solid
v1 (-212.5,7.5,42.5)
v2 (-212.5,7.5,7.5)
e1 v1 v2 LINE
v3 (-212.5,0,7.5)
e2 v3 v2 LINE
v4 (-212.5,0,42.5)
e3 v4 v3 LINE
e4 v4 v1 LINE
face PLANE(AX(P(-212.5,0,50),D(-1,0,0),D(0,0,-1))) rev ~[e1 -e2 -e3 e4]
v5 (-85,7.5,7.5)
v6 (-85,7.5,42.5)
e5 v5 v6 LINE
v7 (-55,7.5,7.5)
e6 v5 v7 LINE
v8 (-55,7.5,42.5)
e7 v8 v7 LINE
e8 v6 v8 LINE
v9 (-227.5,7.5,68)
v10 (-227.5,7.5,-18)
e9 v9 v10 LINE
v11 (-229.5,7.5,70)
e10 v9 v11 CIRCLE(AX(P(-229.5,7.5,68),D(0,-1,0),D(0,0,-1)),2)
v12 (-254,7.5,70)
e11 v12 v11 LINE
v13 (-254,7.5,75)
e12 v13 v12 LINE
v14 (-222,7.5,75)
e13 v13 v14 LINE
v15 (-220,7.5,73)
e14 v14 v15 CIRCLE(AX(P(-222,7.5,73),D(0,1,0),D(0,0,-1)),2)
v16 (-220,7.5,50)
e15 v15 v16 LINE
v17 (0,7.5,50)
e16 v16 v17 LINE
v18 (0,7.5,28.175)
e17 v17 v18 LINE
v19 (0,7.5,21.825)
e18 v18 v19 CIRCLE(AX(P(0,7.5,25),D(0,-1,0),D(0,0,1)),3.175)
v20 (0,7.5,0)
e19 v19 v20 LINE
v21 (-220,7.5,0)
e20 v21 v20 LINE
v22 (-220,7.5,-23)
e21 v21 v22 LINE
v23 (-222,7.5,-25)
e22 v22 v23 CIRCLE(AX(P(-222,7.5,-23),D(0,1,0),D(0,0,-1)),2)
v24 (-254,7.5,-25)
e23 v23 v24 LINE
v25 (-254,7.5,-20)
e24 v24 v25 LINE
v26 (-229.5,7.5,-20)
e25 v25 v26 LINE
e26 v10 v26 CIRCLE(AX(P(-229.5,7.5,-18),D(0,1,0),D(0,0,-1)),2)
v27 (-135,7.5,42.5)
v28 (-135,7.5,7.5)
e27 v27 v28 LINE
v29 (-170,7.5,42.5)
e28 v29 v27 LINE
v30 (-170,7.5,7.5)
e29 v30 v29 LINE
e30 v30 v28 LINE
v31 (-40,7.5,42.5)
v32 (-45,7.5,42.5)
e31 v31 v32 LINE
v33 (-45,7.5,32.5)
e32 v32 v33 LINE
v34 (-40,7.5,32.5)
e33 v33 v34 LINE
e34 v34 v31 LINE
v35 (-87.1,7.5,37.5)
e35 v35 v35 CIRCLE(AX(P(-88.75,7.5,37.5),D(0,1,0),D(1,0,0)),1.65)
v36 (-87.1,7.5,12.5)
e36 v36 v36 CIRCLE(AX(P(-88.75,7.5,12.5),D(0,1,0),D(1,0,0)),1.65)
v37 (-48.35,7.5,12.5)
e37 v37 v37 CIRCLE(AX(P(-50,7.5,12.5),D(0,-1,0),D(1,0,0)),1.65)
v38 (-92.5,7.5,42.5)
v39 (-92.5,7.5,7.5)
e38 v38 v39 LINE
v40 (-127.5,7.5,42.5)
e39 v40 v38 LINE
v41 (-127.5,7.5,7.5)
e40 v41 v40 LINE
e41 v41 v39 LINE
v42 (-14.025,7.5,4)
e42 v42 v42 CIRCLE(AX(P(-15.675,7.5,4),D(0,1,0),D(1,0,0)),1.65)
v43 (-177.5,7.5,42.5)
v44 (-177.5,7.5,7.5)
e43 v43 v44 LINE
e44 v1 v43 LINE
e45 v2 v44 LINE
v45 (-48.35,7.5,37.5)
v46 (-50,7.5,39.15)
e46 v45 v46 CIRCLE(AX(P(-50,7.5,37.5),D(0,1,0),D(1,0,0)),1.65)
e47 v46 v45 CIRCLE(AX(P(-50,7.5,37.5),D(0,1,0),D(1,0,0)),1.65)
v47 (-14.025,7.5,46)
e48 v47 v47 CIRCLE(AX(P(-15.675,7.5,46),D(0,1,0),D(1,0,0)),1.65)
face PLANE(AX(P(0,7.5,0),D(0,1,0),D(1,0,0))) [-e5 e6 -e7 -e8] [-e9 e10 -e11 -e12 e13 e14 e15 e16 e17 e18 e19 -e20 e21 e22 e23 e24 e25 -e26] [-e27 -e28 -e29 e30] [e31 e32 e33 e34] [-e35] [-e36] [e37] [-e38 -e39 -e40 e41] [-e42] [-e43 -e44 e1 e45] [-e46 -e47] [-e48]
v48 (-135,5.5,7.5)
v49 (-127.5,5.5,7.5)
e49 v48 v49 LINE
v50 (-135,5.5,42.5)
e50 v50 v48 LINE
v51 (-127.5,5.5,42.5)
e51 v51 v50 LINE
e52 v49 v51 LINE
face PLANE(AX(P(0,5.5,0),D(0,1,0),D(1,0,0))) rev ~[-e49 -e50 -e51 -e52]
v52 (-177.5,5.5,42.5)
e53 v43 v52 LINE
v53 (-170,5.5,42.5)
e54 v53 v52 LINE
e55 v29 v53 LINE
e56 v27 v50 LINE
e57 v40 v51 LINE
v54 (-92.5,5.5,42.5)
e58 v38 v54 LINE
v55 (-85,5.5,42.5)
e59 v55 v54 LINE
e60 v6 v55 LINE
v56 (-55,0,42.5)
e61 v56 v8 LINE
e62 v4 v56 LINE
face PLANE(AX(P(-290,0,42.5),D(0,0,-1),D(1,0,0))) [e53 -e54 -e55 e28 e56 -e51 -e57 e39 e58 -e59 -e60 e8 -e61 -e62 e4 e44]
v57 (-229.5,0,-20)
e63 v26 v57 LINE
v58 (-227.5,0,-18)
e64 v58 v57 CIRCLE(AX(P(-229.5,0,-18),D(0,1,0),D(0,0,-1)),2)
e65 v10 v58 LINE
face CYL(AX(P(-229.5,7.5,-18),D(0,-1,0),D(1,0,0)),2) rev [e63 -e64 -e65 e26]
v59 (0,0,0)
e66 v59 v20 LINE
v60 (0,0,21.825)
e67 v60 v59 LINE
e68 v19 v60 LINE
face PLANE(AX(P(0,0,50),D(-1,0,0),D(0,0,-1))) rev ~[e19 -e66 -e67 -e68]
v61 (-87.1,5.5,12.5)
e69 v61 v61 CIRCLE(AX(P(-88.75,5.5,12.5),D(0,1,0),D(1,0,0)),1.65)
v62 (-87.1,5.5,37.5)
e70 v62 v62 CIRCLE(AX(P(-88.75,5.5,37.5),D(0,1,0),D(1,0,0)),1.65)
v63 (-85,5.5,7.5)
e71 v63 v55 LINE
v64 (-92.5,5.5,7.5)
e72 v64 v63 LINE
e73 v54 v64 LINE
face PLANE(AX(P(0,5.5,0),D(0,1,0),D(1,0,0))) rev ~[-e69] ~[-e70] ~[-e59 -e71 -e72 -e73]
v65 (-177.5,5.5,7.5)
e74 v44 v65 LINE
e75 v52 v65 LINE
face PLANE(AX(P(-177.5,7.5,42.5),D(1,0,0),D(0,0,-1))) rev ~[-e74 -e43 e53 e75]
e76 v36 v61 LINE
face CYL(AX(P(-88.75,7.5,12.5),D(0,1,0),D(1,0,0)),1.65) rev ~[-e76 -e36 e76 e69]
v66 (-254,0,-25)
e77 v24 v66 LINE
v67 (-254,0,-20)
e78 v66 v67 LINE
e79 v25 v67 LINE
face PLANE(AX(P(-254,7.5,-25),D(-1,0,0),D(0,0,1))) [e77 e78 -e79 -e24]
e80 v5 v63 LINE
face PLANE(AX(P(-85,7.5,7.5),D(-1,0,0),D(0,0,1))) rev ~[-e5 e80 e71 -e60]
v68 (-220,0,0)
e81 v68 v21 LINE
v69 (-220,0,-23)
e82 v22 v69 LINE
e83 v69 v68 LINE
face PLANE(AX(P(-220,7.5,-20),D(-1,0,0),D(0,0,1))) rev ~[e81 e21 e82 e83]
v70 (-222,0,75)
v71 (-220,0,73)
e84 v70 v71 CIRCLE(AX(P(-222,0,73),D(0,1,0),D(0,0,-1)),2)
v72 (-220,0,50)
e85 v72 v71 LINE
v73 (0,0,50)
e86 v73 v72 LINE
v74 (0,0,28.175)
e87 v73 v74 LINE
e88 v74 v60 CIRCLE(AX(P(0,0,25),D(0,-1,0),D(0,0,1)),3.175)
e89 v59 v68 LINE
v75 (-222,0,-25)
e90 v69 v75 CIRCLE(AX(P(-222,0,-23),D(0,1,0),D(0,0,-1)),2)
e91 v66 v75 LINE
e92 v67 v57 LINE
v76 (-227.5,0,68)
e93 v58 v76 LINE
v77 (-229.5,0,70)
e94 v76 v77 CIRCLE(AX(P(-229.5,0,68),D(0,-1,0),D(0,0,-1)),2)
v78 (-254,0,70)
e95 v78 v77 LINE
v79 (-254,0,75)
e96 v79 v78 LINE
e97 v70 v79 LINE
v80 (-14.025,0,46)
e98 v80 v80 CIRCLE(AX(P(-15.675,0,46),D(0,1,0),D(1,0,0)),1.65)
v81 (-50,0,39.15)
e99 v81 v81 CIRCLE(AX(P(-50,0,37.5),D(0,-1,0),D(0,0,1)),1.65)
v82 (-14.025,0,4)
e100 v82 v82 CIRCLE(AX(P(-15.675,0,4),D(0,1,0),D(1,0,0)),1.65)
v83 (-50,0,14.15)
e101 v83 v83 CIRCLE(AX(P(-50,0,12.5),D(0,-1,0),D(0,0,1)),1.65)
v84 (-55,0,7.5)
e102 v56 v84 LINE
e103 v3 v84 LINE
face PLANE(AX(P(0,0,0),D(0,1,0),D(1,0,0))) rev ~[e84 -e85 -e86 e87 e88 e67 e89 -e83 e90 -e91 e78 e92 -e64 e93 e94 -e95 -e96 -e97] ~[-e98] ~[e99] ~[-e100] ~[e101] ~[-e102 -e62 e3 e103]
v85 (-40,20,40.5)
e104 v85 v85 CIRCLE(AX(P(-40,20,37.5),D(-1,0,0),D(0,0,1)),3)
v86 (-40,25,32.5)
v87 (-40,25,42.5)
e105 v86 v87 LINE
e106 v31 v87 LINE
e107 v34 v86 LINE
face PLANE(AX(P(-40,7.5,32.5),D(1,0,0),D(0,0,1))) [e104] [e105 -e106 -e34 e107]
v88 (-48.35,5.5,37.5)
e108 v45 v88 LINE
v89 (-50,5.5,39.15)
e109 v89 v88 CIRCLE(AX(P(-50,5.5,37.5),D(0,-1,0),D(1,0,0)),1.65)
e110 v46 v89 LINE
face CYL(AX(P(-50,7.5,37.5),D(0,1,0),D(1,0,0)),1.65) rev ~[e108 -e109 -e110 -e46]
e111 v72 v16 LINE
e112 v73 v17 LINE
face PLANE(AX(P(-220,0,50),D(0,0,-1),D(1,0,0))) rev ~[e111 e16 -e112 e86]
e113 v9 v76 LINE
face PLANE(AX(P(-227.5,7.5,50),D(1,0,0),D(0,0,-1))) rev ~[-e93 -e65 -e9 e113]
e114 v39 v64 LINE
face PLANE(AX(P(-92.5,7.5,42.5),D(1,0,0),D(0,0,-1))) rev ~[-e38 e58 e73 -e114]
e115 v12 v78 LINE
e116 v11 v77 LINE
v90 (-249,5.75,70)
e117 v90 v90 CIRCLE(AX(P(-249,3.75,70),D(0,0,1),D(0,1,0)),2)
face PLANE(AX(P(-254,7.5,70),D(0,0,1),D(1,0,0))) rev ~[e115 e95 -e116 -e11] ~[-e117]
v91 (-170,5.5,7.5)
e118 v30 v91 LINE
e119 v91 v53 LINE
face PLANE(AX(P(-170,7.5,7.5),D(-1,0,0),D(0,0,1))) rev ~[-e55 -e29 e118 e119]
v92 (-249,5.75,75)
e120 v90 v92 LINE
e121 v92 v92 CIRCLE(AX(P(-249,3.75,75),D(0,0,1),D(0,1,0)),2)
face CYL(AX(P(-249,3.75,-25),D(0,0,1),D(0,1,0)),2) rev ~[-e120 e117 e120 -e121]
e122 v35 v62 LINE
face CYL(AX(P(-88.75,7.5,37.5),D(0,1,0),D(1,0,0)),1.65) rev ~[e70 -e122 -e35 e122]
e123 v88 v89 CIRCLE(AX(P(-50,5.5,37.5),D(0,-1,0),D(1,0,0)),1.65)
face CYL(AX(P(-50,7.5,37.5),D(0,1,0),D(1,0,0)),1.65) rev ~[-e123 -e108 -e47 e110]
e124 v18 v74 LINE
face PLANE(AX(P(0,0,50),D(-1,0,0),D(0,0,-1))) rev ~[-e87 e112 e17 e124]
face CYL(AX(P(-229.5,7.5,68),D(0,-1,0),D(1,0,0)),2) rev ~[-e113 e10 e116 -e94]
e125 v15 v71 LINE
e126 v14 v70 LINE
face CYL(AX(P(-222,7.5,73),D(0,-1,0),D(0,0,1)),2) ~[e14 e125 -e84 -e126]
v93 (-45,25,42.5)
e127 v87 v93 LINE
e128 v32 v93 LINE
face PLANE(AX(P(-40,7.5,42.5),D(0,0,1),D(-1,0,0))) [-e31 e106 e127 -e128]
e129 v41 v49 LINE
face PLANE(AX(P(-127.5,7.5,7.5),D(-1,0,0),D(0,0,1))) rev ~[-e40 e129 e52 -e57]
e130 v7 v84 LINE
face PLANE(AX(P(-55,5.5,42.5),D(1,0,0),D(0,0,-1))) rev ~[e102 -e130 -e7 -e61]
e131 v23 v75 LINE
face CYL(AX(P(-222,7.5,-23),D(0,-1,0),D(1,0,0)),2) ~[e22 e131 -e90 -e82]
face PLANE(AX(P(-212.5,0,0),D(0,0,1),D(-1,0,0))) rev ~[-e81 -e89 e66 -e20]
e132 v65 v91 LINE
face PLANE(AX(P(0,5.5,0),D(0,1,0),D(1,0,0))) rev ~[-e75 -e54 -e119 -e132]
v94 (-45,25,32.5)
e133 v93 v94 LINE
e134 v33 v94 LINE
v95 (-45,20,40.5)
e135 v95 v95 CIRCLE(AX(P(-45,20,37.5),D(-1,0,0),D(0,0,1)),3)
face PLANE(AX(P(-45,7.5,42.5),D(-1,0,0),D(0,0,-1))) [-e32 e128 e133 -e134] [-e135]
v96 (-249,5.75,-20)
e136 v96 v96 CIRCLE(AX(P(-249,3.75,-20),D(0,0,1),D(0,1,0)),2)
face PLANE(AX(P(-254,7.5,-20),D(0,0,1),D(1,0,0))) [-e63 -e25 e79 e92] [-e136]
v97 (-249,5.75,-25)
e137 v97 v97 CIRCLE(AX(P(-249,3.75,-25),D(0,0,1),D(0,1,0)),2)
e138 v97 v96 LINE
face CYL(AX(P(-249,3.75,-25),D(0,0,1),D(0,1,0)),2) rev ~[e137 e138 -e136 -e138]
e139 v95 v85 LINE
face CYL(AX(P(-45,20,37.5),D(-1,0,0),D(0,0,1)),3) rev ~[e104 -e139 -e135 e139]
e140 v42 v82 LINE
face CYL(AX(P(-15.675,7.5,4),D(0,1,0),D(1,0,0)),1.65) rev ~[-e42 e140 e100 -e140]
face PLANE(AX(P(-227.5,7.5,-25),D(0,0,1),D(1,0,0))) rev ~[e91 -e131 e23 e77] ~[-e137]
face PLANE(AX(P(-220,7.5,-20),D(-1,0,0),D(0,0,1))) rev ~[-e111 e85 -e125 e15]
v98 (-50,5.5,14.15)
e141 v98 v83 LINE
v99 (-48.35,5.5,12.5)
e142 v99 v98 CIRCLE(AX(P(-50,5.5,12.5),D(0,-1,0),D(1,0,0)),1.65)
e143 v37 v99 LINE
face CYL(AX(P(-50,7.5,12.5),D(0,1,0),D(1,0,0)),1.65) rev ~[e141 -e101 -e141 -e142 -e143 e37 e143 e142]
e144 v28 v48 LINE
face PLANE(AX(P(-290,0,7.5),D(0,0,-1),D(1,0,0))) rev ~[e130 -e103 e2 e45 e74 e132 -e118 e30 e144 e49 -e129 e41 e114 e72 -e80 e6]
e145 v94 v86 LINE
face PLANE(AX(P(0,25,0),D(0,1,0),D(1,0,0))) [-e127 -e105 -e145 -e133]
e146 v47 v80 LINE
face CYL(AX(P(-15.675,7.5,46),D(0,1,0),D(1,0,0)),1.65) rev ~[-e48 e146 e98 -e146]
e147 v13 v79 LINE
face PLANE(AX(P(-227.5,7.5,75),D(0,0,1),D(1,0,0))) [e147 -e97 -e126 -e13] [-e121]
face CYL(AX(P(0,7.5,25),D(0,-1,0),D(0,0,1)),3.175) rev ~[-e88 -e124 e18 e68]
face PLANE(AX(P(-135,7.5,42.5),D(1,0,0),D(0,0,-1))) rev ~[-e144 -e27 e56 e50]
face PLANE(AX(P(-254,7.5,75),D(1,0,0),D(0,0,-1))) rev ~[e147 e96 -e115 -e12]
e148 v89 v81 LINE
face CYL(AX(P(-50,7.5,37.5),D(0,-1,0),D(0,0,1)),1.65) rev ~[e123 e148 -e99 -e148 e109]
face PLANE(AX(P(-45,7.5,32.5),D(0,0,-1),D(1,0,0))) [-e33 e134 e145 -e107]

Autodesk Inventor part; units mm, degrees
ref_plane "YZ Plane" through (0, 0, 0) normal (1, 0, 0) x (0, 1, 0)
ref_plane "XZ Plane" through (0, 0, 0) normal (0, 1, 0) x (-1, 0, 0)
ref_plane "XY Plane" through (0, 0, 0) normal (0, 0, 1) x (1, 0, 0)
sketch "Sketch1" plane through (0, 0, 0) normal (0, 1, 0) x (-1, 0, 0)
  line L0 (0, 0) -> (50, 0)
  line L1 (50, 0) -> (50, 50)
  line L2 (50, 50) -> (0, 50)
  line L3 (0, 50) -> (0, 0)
  line L4 (50, 50) -> (290, 50)
  line L5 (290, 50) -> (290, 42.5)
  line L6 (290, 42.5) -> (50, 42.5)
  line L7 (50, 42.5) -> (50, 50)
  line L8 (50, 0) -> (290, 0)
  line L9 (290, 0) -> (290, 7.5)
  line L10 (290, 7.5) -> (50, 7.5)
  line L11 (50, 7.5) -> (50, 0)
  dimension "d0" = 50
  dimension "d1" = 50
  dimension "d2" = 240
  dimension "d3" = 7.5
  dimension "d4" = 7.5
extrude "Extrusion1" add sketch "Sketch1" along normal blind 7.5
sketch "Sketch2" plane through (0, 7.5, 0) normal (0, 1, 0) x (1, 0, 0)
  line L0 (0, -50) -> (0, 0) projected
  point P0 (0, -25)
hole "Hole1" at (0, 7.5, 25) direction (0, -1, 0) diameter 6.35 end through all
sketch "Sketch3" plane through (0, 7.5, 0) normal (0, 1, 0) x (1, 0, 0)
  line L0 (-3.175, -50) -> (-3.175, 0) construction
  line L1 (-3.175, -50) -> (-28.175, -50) construction
  line L2 (-28.175, -50) -> (-28.175, 0) construction
  line L3 (-28.175, 0) -> (-3.175, 0) construction
  point P0 (0, 0)
  point P1 (-7.175, -4)
  point P2 (-24.175, -46)
  dimension "d14" = 25
hole "Hole2" at (-7.175, 7.5, 4) at (-24.175, 7.5, 46) direction (0, -1, 0) diameter 3.3 end through all
sketch "Sketch4" plane through (0, 7.5, 0) normal (0, 1, 0) x (1, 0, 0)
  arc A0 (0, -21.825) -> (0, -28.175) centre (0, -25) ccw construction
  line L0 (-3.175, -25) -> (-28.175, -25) construction
  line L1 (-3.175, -25) -> (21.825, -25) construction
  line L2 (-290, -50) -> (0, -50) construction
  line L3 (-28.175, -50) -> (-28.175, 0) construction
  line L4 (-50, -7.5) -> (-50, -42.5) construction
  line L5 (-50, -42.5) -> (-45, -42.5) construction
  line L6 (-45, -42.5) -> (-45, -32.5) construction
  line L7 (-45, -32.5) -> (-50, -32.5) construction
  line L8 (-50, -32.5) -> (-50, -42.5) construction
  line L9 (-45, -32.5) -> (-40, -32.5)
  line L10 (-40, -32.5) -> (-40, -42.5)
  line L11 (-40, -42.5) -> (-45, -42.5)
  line L12 (-45, -42.5) -> (-45, -32.5)
  point P0 (0, 0)
  dimension "d22" = 25
  dimension "d23" = 180
  dimension "d24" = 5
  dimension "d25" = 10
  dimension "d26" = 5
extrude "Extrusion2" add sketch "Sketch4" along normal blind 17.5
sketch "Sketch5" plane through (0, 7.5, 0) normal (0, 1, 0) x (1, 0, 0)
  line L0 (-85, -7.5) -> (-85, -42.5)
  line L1 (-127.5, -7.5) -> (-127.5, -42.5)
  line L2 (-92.5, -42.5) -> (-92.5, -7.5)
  line L3 (-135, -7.5) -> (-170, -7.5) construction
  line L4 (-170, -7.5) -> (-170, -42.5) construction
  line L5 (-170, -42.5) -> (-135, -42.5) construction
  line L6 (-135, -42.5) -> (-135, -7.5) construction
  line L7 (-177.5, -7.5) -> (-212.5, -7.5) construction
  line L8 (-212.5, -7.5) -> (-212.5, -42.5) construction
  line L9 (-212.5, -42.5) -> (-177.5, -42.5) construction
  line L10 (-177.5, -42.5) -> (-177.5, -7.5) construction
  line L11 (-220, -7.5) -> (-255, -7.5) construction
  line L12 (-255, -7.5) -> (-255, -42.5) construction
  line L13 (-255, -42.5) -> (-220, -42.5) construction
  line L14 (-220, -42.5) -> (-220, -7.5) construction
  line L15 (-85, -7.5) -> (-92.5, -7.5) construction
  line L16 (-92.5, -7.5) -> (-92.5, -42.5) construction
  line L17 (-92.5, -42.5) -> (-85, -42.5) construction
  line L18 (-85, -42.5) -> (-85, -7.5) construction
  line L19 (-127.5, -7.5) -> (-135, -7.5) construction
  line L20 (-135, -7.5) -> (-135, -42.5) construction
  line L21 (-135, -42.5) -> (-127.5, -42.5) construction
  line L22 (-127.5, -42.5) -> (-127.5, -7.5) construction
  line L23 (-170, -7.5) -> (-177.5, -7.5) construction
  line L24 (-177.5, -7.5) -> (-177.5, -42.5) construction
  line L25 (-177.5, -42.5) -> (-170, -42.5) construction
  line L26 (-170, -42.5) -> (-170, -7.5) construction
  line L27 (-212.5, -7.5) -> (-220, -7.5) construction
  line L28 (-220, -7.5) -> (-220, -42.5) construction
  line L29 (-220, -42.5) -> (-212.5, -42.5) construction
  line L30 (-212.5, -42.5) -> (-212.5, -7.5) construction
  line L31 (-220, -7.5) -> (-212.5, -7.5)
  line L32 (-212.5, -7.5) -> (-212.5, -42.5)
  line L33 (-212.5, -42.5) -> (-220, -42.5)
  line L34 (-220, -42.5) -> (-220, -7.5)
  line L35 (-177.5, -7.5) -> (-170, -7.5)
  line L36 (-170, -7.5) -> (-170, -42.5)
  line L37 (-170, -42.5) -> (-177.5, -42.5)
  line L38 (-177.5, -42.5) -> (-177.5, -7.5)
  line L39 (-135, -7.5) -> (-127.5, -7.5)
  line L40 (-127.5, -7.5) -> (-127.5, -42.5)
  line L41 (-127.5, -42.5) -> (-135, -42.5)
  line L42 (-135, -42.5) -> (-135, -7.5)
  line L43 (-92.5, -7.5) -> (-85, -7.5)
  line L44 (-85, -7.5) -> (-85, -42.5)
  line L45 (-85, -42.5) -> (-92.5, -42.5)
  line L46 (-92.5, -42.5) -> (-92.5, -7.5)
  point P0 (0, 0)
  point P1 (-50, -7.5)
  dimension "d30" = 35
  dimension "d31" = 35
  dimension "d32" = 35
  dimension "d33" = 35
  dimension "d34" = 35
  dimension "d35" = 35
extrude "Extrusion3" add sketch "Sketch5" against normal blind 2
sketch "Sketch6" plane through (0, 7.5, 0) normal (0, 1, 0) x (1, 0, 0)
  line L0 (-290, 0) -> (-290, -7.5) projected
  line L1 (-290, -50) -> (0, -50) projected
  line L2 (-290, 0) -> (-280, 0)
  line L3 (-280, 0) -> (-280, -50)
  line L4 (-280, -50) -> (-290, -50)
  line L5 (-290, -50) -> (-290, 0)
  point P0 (0, 0)
  dimension "d38" = 10
extrude "Extrusion4" cut sketch "Sketch6" against normal blind 7.5
sketch "Sketch7" plane through (-280, 7.5, 0) normal (-1, 0, 0) x (0, 0, 1)
  point P0 (0, -7.5)
sketch "Sketch8" plane through (-280, 7.5, 0) normal (-1, 0, 0) x (0, 0, 1)
  line L0 (-25, 0) -> (75, 0)
  line L1 (75, 0) -> (75, -7.5)
  line L2 (75, -7.5) -> (-25, -7.5)
  line L3 (-25, -7.5) -> (-25, 0)
  line L4 (-25, 0) -> (75, 0)
  line L5 (75, 0) -> (75, -10)
  line L6 (75, -10) -> (-25, -10)
  line L7 (-25, -10) -> (-25, 0)
  point P0 (0, -7.5)
  dimension "d41" = 100
  dimension "d42" = 10
extrude "Extrusion5" add sketch "Sketch8" along normal blind 7.5
sketch "Sketch9" plane through (-287.5, 7.5, 0) normal (-1, 0, 0) x (0, 0, 1)
  line L0 (75, 0) -> (-25, 0) projected
  line L1 (-25, -10) -> (75, -10) projected
  line L2 (-25, 0) -> (-17.5, 0)
  line L3 (-17.5, 0) -> (-17.5, -10)
  line L4 (-17.5, -10) -> (-25, -10)
  line L5 (-25, -10) -> (-25, 0)
  line L6 (75, 0) -> (67.5, 0)
  line L7 (67.5, 0) -> (67.5, -10)
  line L8 (67.5, -10) -> (75, -10)
  line L9 (75, -10) -> (75, 0)
  point P0 (0, -7.5)
  dimension "d45" = 7.5
  dimension "d46" = 7.5
extrude "Extrusion6" add sketch "Sketch9" along normal blind 25 contours L9 L1 L7 L0 | L3 L1 L5 L0
sketch "Sketch10" plane through (-287.5, -2.5, -17.5) normal (0, 0, 1) x (1, 0, 0)
  line L0 (0, 0) -> (-25, 0) construction
  line L1 (0, 0) -> (-3, 0) construction
  line L2 (-3, 0) -> (-6.2, 0)
  line L3 (-6.2, 0) -> (-6.2, 2.1)
  line L4 (-6.2, 2.1) -> (-3, 2.1)
  line L5 (-3, 2.1) -> (-3, 0)
  line L6 (-6.2, 2.1) -> (-11.7, 2.1) construction
  line L7 (-11.7, 2.1) -> (-11.7, 5.4) construction
  point P0 (287.5, 2.5)
  dimension "d49" = 3
  dimension "d50" = 3.2
  dimension "d51" = 2.1
  dimension "d52" = 5.5
  dimension "d53" = 3.3
extrude "Extrusion7" add sketch "Sketch10" along normal blind 92.5
sketch "Sketch11" plane through (-287.5, -2.5, -17.5) normal (0, 0, 1) x (1, 0, 0)
  line L0 (-6.2, 2.1) -> (-3, 2.1) construction
  line L1 (-6.2, 2.1) -> (-11.7, 2.1) construction
  line L2 (-11.7, 2.1) -> (-11.7, 5.4) construction
  circle A0 centre (-11.7, 5.4) radius 2.125
  point P0 (287.5, 2.5)
  dimension "d56" = 5.5
  dimension "d57" = 3.3
  dimension "d58" = 4.25
extrude "Extrusion8" cut sketch "Sketch11" along normal mid plane 241
sketch "Sketch12" plane through (-287.5, -2.5, -17.5) normal (0, 0, 1) x (1, 0, 0)
  circle A0 centre (-11.7, 5.4) radius 2.125 construction
  line L0 (-11.7, 5.4) -> (-11.7, 0.96) construction
  line L1 (-11.7, 0.96) -> (-16.7, 0.96) construction
  line L2 (-6.2, 0) -> (-25, 0) projected
  line L3 (-16.7, 0.96) -> (-19.2, 0.96)
  line L4 (-19.2, 0.96) -> (-19.2, 0)
  line L5 (-19.2, 0) -> (-16.7, 0)
  line L6 (-16.7, 0) -> (-16.7, 0.96)
  point P0 (287.5, 2.5)
  dimension "d61" = 4.44
  dimension "d62" = 5
  dimension "d63" = 2.5
extrude "Extrusion9" add sketch "Sketch12" along normal blind 91.25
sketch "Sketch13" plane through (-293.7, -0.4, -17.5) normal (0, 1, 0) x (1, 0, 0)
  line L0 (3.2, 0) -> (3.2, -85) construction
  line L1 (3.2, 0) -> (3.2, -30) construction
  line L2 (0, 0) -> (0, -85) construction
  line L3 (3.2, -30) -> (0, -30) construction
  line L4 (0, -30) -> (0, -36.35) construction
  line L5 (0, -36.35) -> (3.2, -36.35) construction
  line L6 (3.2, -36.35) -> (3.2, -30) construction
  line L7 (0, -30) -> (3.2, -30)
  line L8 (3.2, -30) -> (3.2, -36.35)
  line L9 (3.2, -36.35) -> (0, -36.35)
  line L10 (0, -36.35) -> (0, -30)
  point P0 (293.7, -17.5)
  dimension "d66" = 30
  dimension "d67" = 6.35
extrude "Extrusion10" add sketch "Sketch13" along normal blind 3.8
sketch "Sketch14" plane through (0, 7.5, 0) normal (0, 1, 0) x (1, 0, 0)
  line L0 (-287.5, 17.5) -> (-287.5, -67.5) projected
  line L1 (-287.5, 17.5) -> (-285, 17.5)
  line L2 (-285, 17.5) -> (-285, -67.5)
  line L3 (-285, -67.5) -> (-287.5, -67.5)
  line L4 (-287.5, -67.5) -> (-287.5, 17.5)
  point P0 (0, 0)
  dimension "d70" = 2.5
extrude "Extrusion11" cut sketch "Sketch14" against normal blind 14.55
sketch "Sketch15" plane through (0, 7.5, 0) normal (0, 1, 0) x (1, 0, 0)
  line L0 (-312.5, 17.5) -> (-312.5, 25) projected
  line L1 (-280, -75) -> (-312.5, -75) projected
  line L2 (-312.5, 25) -> (-306.6488, 25)
  line L3 (-306.6488, 25) -> (-306.6488, -75)
  line L4 (-306.6488, -75) -> (-312.5, -75)
  line L5 (-312.5, -75) -> (-312.5, 25)
  point P0 (0, 0)
extrude "Extrusion12" cut sketch "Sketch15" against normal blind 14.55
fillet "Fillet1" radius 0.1 1 edges at (-301.325, 2.9, -17.5)
fillet "Fillet2" radius 0.1 1 edges at (-301.325, 2.9, 67.5)
fillet "Fillet3" radius 3.25 1 edges at (-280, 2.5, 75)
fillet "Fillet4" radius 3.25 1 edges at (-285, 2.5, 67.5)
fillet "Fillet5" radius 3.25 1 edges at (-280, 2.5, -25)
fillet "Fillet6" radius 3.25 1 edges at (-285, 2.5, -17.5)
sketch "Sketch16" plane through (0, 7.5, 0) normal (0, 1, 0) x (1, 0, 0)
  line L0 (-220, -42.5) -> (-220, -7.5) construction
  line L1 (-220, -42.5) -> (-280, -42.5) construction
  line L2 (-220, -7.5) -> (-255, -7.5) construction
  line L3 (-255, -7.5) -> (-255, -42.5) construction
  line L4 (-255, -42.5) -> (-220, -42.5) construction
  line L5 (-220, -42.5) -> (-220, -7.5) construction
  line L6 (-280, -7.5) -> (-280, 0) projected
  line L7 (-280, -7.5) -> (-270, -7.5)
  line L8 (-270, -7.5) -> (-270, -42.5)
  line L9 (-270, -42.5) -> (-280, -42.5)
  line L10 (-280, -42.5) -> (-280, -7.5)
  point P0 (0, 0)
  dimension "d81" = 35
  dimension "d82" = 10
extrude "Extrusion13" add sketch "Sketch16" against normal blind 2
sketch "Sketch17" plane through (0, 7.5, 0) normal (0, 1, 0) x (1, 0, 0)
  point P0 (0, 0)
sketch "Sketch18" plane through (0, 7.5, 0) normal (0, 1, 0) x (1, 0, 0)
  line L0 (-270, -7.5) -> (-270, -42.5) construction
  line L1 (-285, -64.25) -> (-285, 14.25) construction
  line L2 (-280, -7.5) -> (-280, 0) construction
  line L3 (-270, -7.5) -> (-280, -7.5) construction
  line L4 (-275, -7.5) -> (-275, -42.5) construction
  line L5 (-50, -42.5) -> (-280, -42.5) construction
  circle A0 centre (-275, -12.5) radius 1.8 construction
  circle A1 centre (-275, -37.5) radius 1.8 construction
  circle A2 centre (-275, -12.5) radius 1.8
  circle A3 centre (-275, -37.5) radius 1.8
  point P0 (0, 0)
  dimension "d85" = 3.6
  dimension "d86" = 3.6
hole "Hole3" at (-275, 7.5, 12.5) at (-275, 7.5, 37.5) direction (0, -1, 0) diameter 3.3 depth 15 tip angle 118
sketch "Sketch19" plane through (0, 7.5, 0) normal (0, 1, 0) x (1, 0, 0)
  circle A0 centre (-275, -12.5) radius 1.65 construction
  line L0 (-275, -12.5) -> (-212.5, -12.5) construction
  line L1 (-212.5, -7.5) -> (-212.5, -42.5) construction
  circle A1 centre (-275, -37.5) radius 1.65 construction
  line L2 (-275, -37.5) -> (-212.5, -37.5) construction
  line L3 (-220, -42.5) -> (-220, -7.5) construction
  line L4 (-220, -12.5) -> (-212.5, -12.5) construction
  line L5 (-216.25, -12.5) -> (-216.25, -37.5) construction
  point P0 (0, 0)
hole "Hole4" at (-216.25, 7.5, 12.5) at (-216.25, 7.5, 37.5) direction (0, -1, 0) diameter 3.3 depth 15 tip angle 118
sketch "Sketch20" plane through (-45, 7.5, 32.5) normal (-1, 0, 0) x (0, 0, 1)
  line L0 (10, 17.5) -> (0, 17.5) construction
  line L1 (5, 17.5) -> (5, -0.1335) construction
  line L2 (10, 0) -> (10, 17.5) construction
  line L3 (10, 12.5) -> (5, 12.5) construction
  circle A0 centre (5, 12.5) radius 3
  point P0 (-32.5, -7.5)
  dimension "d101" = 6
extrude "Extrusion14" cut sketch "Sketch20" against normal blind 20
sketch "Sketch21" plane through (0, 7.5, 0) normal (0, 1, 0) x (1, 0, 0)
  line L0 (-306.6488, 17.5) -> (-306.6488, -67.5) projected
  line L1 (-306.6488, 17.5) -> (-288.25, 17.5) projected
  line L2 (-306.6488, -67.5) -> (-288.25, -67.5)
  line L3 (-288.25, -67.5) -> (-288.25, 17.5)
  line L4 (-288.25, 17.5) -> (-306.6488, 17.5)
  line L5 (-306.6488, 17.5) -> (-306.6488, -67.5)
  point P0 (0, 0)
extrude "Extrusion15" cut sketch "Sketch21" against normal blind 10
sketch "Sketch22" plane through (0, 7.5, 0) normal (0, 1, 0) x (1, 0, 0)
  line L0 (-280, -50) -> (0, -50) projected
  line L1 (0, 0) -> (-280, 0) projected
  line L2 (-280, -50) -> (-270.5687, -50)
  line L3 (-270.5687, -50) -> (-270.5687, 0)
  line L4 (-270.5687, 0) -> (-280, 0)
  line L5 (-280, 0) -> (-280, -50)
  line L6 (-50, -42.5) -> (-280, -42.5) projected
  line L7 (-219.3019, -42.5) -> (-213.3073, -42.5)
  line L8 (-213.3073, -42.5) -> (-213.3073, -8.284)
  line L9 (-213.3073, -8.284) -> (-219.3019, -8.284)
  line L10 (-219.3019, -8.284) -> (-219.3019, -42.5)
extrude "Extrusion16" add sketch "Sketch22" against normal blind 2
sketch "Sketch23" plane through (-306.6488, -2.5, -25) normal (0, 0, -1) x (-1, 0, 0)
  circle A0 centre (-7.4488, 5.4) radius 2.125 projected
  circle A1 centre (-7.4488, 5.4) radius 2
  circle A2 centre (-7.4488, 5.4) radius 2.4429
  point P0 (-306.6488, 2.5)
  dimension "d108" = 4
extrude "Extrusion17" add sketch "Sketch23" against normal blind 100 contours A0 | A2
sketch "Sketch24" plane through (0, 7.5, 0) normal (0, 1, 0) x (1, 0, 0)
  line L0 (-288.25, -67.5) -> (-306.6488, -67.5) projected
  arc A0 (-285, 14.25) -> (-288.25, 17.5) centre (-288.25, 14.25) ccw projected
  line L1 (-306.6488, -67.5) -> (-288.25, -67.5)
  line L2 (-288.25, -67.5) -> (-288.25, 17.5)
  line L3 (-288.25, 17.5) -> (-306.6488, 17.5)
  line L4 (-306.6488, 17.5) -> (-306.6488, -67.5)
  point P0 (0, 0)
extrude "Extrusion18" cut sketch "Sketch24" against normal blind 100
sketch "Sketch25" plane through (0, 7.5, 0) normal (0, 1, 0) x (1, 0, 0)
  line L0 (-50, -42.5) -> (-280, -42.5) projected
  line L1 (-280, -7.5) -> (-50, -7.5) projected
  line L2 (-50, -42.5) -> (-55, -42.5)
  line L3 (-55, -42.5) -> (-55, -7.5)
  line L4 (-55, -7.5) -> (-50, -7.5)
  line L5 (-50, -7.5) -> (-50, -42.5)
  point P0 (0, 0)
  dimension "d113" = 5
extrude "Extrusion19" add sketch "Sketch25" against normal blind 2
sketch "Sketch26" plane through (0, 7.5, 0) normal (0, 1, 0) x (1, 0, 0)
  line L0 (-55, -42.5) -> (-85, -42.5) construction
  line L1 (-55, -42.5) -> (-50, -42.5) construction
  line L2 (-55, -42.5) -> (-50, -42.5) construction
  line L3 (-50, -42.5) -> (-50, -7.5) construction
  line L4 (-50, -42.5) -> (-50, -7.5) construction
  circle A0 centre (-50, -37.5) radius 1.65 construction
  circle A1 centre (-50, -12.5) radius 1.65 construction
  circle A2 centre (-50, -37.5) radius 1.65
  circle A3 centre (-50, -12.5) radius 1.65
  line L5 (-50, -37.5) -> (-92.5, -37.5) construction
  line L6 (-92.5, -42.5) -> (-92.5, -7.5) construction
  line L7 (-50, -12.5) -> (-92.5, -12.5) construction
  line L8 (-92.5, -37.5) -> (-85, -37.5) construction
  line L9 (-85, -7.5) -> (-85, -42.5) construction
  line L10 (-88.75, -37.5) -> (-88.75, -12.5) construction
  circle A4 centre (-88.75, -37.5) radius 1.65
  circle A5 centre (-88.75, -12.5) radius 1.65
  point P0 (0, 0)
  dimension "d116" = 3.3
  dimension "d117" = 3.3
  dimension "d118" = 3.3
  dimension "d119" = 3.3
extrude "Extrusion20" cut sketch "Sketch26" against normal blind 2
sketch "Sketch27" plane through (0, 5.5, 0) normal (0, -1, 0) x (1, 0, 0)
  line L0 (-50, 7.5) -> (-55, 7.5) projected
  line L1 (-55, 7.5) -> (-46.6169, 7.5)
  line L2 (-46.6169, 7.5) -> (-46.6169, 42.5)
  line L3 (-46.6169, 42.5) -> (-55, 42.5)
  line L4 (-55, 42.5) -> (-55, 7.5)
  point P0 (0, 0)
extrude "Extrusion21" add sketch "Sketch27" along normal blind 5.5
sketch "Sketch28" plane through (0, 7.5, 0) normal (0, 1, 0) x (1, 0, 0)
  circle A0 centre (-50, -12.5) radius 1.65 projected
  circle A1 centre (-50, -37.5) radius 1.65 projected
  point P0 (0, 0)
hole "Hole5" at (-50, 7.5, 12.5) at (-50, 7.5, 37.5) direction (0, -1, 0) diameter 3.3 depth 8 tip angle 118
sketch "Sketch29" plane through (0, 7.5, 0) normal (0, 1, 0) x (1, 0, 0)
  circle A0 centre (-7.175, -4) radius 1.65 construction
  circle A1 centre (-24.175, -46) radius 1.65 construction
  line L0 (-7.175, -4) -> (-24.175, -46) construction
  line L1 (-7.175, -4) -> (-7.175, -46) construction
  line L2 (-7.175, -46) -> (-24.175, -46) construction
  line L3 (-7.175, -25) -> (-25.825, -25) construction
  line L4 (-25.825, -25) -> (-25.825, -46) construction
  line L5 (-16.5, -25) -> (-25.825, -25) construction
  line L6 (-24.175, -46) -> (-24.175, -25) construction
  line L7 (-15.675, -46) -> (-15.675, -4) construction
  line L8 (-40, -32.5) -> (-40, -42.5) construction
  line L9 (-40, -42.5) -> (-24.175, -42.5) construction
  line L10 (-24.175, -42.5) -> (-24.175, -46) construction
  line L11 (-15.675, -25) -> (-15.675, -46) construction
  line L12 (-15.675, -46) -> (-15.675, -4) construction
  circle A2 centre (-15.675, -46) radius 1.65 construction
  circle A3 centre (-15.675, -46) radius 1.65
  circle A4 centre (-15.675, -4) radius 1.65
  point P0 (0, 0)
  dimension "d131" = 42
  dimension "d132" = 17
  dimension "d133" = 21
  dimension "d135" = 8.5
  dimension "d136" = 15.825
  dimension "d137" = 3.5
  dimension "d138" = 21
  dimension "d139" = 3.3
  dimension "d140" = 3.3
  dimension "d141" = 3.3
extrude "Extrusion22" cut sketch "Sketch29" against normal blind 10
sketch "Sketch30" plane through (0, 7.5, 0) normal (0, 1, 0) x (1, 0, 0)
  circle A0 centre (-7.175, -4) radius 1.65 projected
  circle A1 centre (-7.175, -4) radius 2.1021
  circle A2 centre (-24.175, -46) radius 1.65 projected
  circle A3 centre (-24.175, -46) radius 2.9173
  point P0 (0, 0)
extrude "Extrusion23" add sketch "Sketch30" against normal blind 7.5 contours A0 | A1 | A2 | A3
sketch "Sketch31" plane through (0, 7.5, 0) normal (0, 1, 0) x (1, 0, 0)
  line L0 (-280, -50) -> (0, -50) projected
  line L1 (-269.9904, -50) -> (-212.5, -50)
  line L2 (-212.5, -50) -> (-212.5, 0)
  line L3 (-212.5, 0) -> (-269.9904, 0)
  line L4 (-269.9904, 0) -> (-269.9904, -50)
  point P0 (0, 0)
extrude "Extrusion24" cut sketch "Sketch31" against normal blind 100
sketch "Sketch32" plane through (0, 0, 0) normal (0, -1, 0) x (1, 0, 0)
  line L0 (-212.5, 42.5) -> (-212.5, 50) construction
  line L1 (-212.5, 50) -> (-254.5, 50) construction
  line L2 (-254.5, 50) -> (-254.5, 0) construction
  line L3 (-254.5, 0) -> (-212.5, 0) construction
  line L4 (-212.5, 0) -> (-212.5, 50) construction
  line L5 (-212.5, 0) -> (-220, 0)
  line L6 (-220, 0) -> (-220, 50)
  line L7 (-220, 50) -> (-212.5, 50)
  line L8 (-212.5, 50) -> (-212.5, 0)
  point P0 (0, 0)
  dimension "d148" = 42
  dimension "d149" = 7.5
extrude "Extrusion25" add sketch "Sketch32" against normal blind 7.5
sketch "Sketch33" plane through (0, 7.5, 0) normal (0, 1, 0) x (1, 0, 0)
  line L0 (-220, -50) -> (0, -50) construction
  line L1 (-220, -50) -> (-254, -50) construction
  line L2 (-254, -50) -> (-254, 0) construction
  line L3 (-254, 0) -> (-220, 0) construction
  line L4 (-220, 0) -> (-220, -50) construction
  line L5 (-227.5, -50) -> (-227.5, 0)
  line L6 (-220, 0) -> (-220, -50)
  line L7 (-227.5, -50) -> (-227.5, 25)
  line L8 (-227.5, 25) -> (-220, 25)
  line L9 (-220, 25) -> (-220, -50)
  line L10 (-227.5, -50) -> (-227.5, -75)
  line L11 (-227.5, -75) -> (-220, -75)
  line L12 (-220, -75) -> (-220, -50)
  line L13 (-220, 25) -> (-227.5, 25)
  line L14 (-227.5, 25) -> (-227.5, -75)
  line L15 (-227.5, -75) -> (-220, -75)
  line L16 (-220, -75) -> (-220, 25)
  line L17 (-220, -75) -> (-254, -75)
  line L18 (-254, -75) -> (-254, -70)
  line L19 (-254, -70) -> (-220, -70)
  line L20 (-220, -70) -> (-220, -75)
  line L21 (-220, 25) -> (-254, 25)
  line L22 (-254, 25) -> (-254, 20)
  line L23 (-254, 20) -> (-220, 20)
  line L24 (-220, 20) -> (-220, 25)
  point P0 (0, 0)
  dimension "d152" = 34
  dimension "d153" = 7.5
  dimension "d154" = 75
  dimension "d155" = 25
  dimension "d156" = 5
  dimension "d157" = 5
extrude "Extrusion26" add sketch "Sketch33" against normal blind 7.5
sketch "Sketch34" plane through (-220, 7.5, -25) normal (0, 0, -1) x (-1, 0, 0)
  point P0 (-220, -7.5)
sketch "Sketch35" plane through (-220, 7.5, -25) normal (0, 0, -1) x (-1, 0, 0)
  line L0 (34, 0) -> (34, -7.5) construction
  line L1 (7.5, 0) -> (34, 0) construction
  line L2 (34, -7.5) -> (30, -7.5) construction
  line L3 (30, -7.5) -> (30, 0) construction
  line L4 (30, 0) -> (34, 0) construction
  line L5 (34, 0) -> (34, -7.5) construction
  line L6 (30, -7.5) -> (28, -7.5) construction
  line L7 (0, -7.5) -> (34, -7.5) construction
  line L8 (28, -7.5) -> (30, 0) construction
  line L9 (28, 0) -> (30, -7.5) construction
  circle A0 centre (29, -3.75) radius 2 construction
  point P0 (-220, -7.5)
  dimension "d160" = 4
  dimension "d161" = 2
  dimension "d162" = 4
hole "Hole6" at (-249, 3.75, -25) direction (0, 0, 1) diameter 4 depth 800 tip angle 118
sketch "Sketch36" plane through (0, 7.5, 0) normal (0, 1, 0) x (1, 0, 0)
  line L0 (-263.1714, -86.6789) -> (-340.6685, -86.6789)
  line L1 (-340.6685, -86.6789) -> (-340.6685, 74.1568)
  line L2 (-340.6685, 74.1568) -> (-263.1714, 74.1568)
  line L3 (-263.1714, 74.1568) -> (-263.1714, -86.6789)
  point P0 (0, 0)
extrude "Extrusion27" cut sketch "Sketch36" against normal blind 700
fillet "Fillet7" radius 2 1 edges at (-227.5, 3.75, 70)
fillet "Fillet8" radius 2 1 edges at (-227.5, 3.75, -20)
fillet "Fillet9" radius 2 1 edges at (-220, 3.75, 75)
fillet "Fillet10" radius 2 1 edges at (-220, 3.75, -25)
properties part number "mtv_frame(BrakeInBack)1-13"
